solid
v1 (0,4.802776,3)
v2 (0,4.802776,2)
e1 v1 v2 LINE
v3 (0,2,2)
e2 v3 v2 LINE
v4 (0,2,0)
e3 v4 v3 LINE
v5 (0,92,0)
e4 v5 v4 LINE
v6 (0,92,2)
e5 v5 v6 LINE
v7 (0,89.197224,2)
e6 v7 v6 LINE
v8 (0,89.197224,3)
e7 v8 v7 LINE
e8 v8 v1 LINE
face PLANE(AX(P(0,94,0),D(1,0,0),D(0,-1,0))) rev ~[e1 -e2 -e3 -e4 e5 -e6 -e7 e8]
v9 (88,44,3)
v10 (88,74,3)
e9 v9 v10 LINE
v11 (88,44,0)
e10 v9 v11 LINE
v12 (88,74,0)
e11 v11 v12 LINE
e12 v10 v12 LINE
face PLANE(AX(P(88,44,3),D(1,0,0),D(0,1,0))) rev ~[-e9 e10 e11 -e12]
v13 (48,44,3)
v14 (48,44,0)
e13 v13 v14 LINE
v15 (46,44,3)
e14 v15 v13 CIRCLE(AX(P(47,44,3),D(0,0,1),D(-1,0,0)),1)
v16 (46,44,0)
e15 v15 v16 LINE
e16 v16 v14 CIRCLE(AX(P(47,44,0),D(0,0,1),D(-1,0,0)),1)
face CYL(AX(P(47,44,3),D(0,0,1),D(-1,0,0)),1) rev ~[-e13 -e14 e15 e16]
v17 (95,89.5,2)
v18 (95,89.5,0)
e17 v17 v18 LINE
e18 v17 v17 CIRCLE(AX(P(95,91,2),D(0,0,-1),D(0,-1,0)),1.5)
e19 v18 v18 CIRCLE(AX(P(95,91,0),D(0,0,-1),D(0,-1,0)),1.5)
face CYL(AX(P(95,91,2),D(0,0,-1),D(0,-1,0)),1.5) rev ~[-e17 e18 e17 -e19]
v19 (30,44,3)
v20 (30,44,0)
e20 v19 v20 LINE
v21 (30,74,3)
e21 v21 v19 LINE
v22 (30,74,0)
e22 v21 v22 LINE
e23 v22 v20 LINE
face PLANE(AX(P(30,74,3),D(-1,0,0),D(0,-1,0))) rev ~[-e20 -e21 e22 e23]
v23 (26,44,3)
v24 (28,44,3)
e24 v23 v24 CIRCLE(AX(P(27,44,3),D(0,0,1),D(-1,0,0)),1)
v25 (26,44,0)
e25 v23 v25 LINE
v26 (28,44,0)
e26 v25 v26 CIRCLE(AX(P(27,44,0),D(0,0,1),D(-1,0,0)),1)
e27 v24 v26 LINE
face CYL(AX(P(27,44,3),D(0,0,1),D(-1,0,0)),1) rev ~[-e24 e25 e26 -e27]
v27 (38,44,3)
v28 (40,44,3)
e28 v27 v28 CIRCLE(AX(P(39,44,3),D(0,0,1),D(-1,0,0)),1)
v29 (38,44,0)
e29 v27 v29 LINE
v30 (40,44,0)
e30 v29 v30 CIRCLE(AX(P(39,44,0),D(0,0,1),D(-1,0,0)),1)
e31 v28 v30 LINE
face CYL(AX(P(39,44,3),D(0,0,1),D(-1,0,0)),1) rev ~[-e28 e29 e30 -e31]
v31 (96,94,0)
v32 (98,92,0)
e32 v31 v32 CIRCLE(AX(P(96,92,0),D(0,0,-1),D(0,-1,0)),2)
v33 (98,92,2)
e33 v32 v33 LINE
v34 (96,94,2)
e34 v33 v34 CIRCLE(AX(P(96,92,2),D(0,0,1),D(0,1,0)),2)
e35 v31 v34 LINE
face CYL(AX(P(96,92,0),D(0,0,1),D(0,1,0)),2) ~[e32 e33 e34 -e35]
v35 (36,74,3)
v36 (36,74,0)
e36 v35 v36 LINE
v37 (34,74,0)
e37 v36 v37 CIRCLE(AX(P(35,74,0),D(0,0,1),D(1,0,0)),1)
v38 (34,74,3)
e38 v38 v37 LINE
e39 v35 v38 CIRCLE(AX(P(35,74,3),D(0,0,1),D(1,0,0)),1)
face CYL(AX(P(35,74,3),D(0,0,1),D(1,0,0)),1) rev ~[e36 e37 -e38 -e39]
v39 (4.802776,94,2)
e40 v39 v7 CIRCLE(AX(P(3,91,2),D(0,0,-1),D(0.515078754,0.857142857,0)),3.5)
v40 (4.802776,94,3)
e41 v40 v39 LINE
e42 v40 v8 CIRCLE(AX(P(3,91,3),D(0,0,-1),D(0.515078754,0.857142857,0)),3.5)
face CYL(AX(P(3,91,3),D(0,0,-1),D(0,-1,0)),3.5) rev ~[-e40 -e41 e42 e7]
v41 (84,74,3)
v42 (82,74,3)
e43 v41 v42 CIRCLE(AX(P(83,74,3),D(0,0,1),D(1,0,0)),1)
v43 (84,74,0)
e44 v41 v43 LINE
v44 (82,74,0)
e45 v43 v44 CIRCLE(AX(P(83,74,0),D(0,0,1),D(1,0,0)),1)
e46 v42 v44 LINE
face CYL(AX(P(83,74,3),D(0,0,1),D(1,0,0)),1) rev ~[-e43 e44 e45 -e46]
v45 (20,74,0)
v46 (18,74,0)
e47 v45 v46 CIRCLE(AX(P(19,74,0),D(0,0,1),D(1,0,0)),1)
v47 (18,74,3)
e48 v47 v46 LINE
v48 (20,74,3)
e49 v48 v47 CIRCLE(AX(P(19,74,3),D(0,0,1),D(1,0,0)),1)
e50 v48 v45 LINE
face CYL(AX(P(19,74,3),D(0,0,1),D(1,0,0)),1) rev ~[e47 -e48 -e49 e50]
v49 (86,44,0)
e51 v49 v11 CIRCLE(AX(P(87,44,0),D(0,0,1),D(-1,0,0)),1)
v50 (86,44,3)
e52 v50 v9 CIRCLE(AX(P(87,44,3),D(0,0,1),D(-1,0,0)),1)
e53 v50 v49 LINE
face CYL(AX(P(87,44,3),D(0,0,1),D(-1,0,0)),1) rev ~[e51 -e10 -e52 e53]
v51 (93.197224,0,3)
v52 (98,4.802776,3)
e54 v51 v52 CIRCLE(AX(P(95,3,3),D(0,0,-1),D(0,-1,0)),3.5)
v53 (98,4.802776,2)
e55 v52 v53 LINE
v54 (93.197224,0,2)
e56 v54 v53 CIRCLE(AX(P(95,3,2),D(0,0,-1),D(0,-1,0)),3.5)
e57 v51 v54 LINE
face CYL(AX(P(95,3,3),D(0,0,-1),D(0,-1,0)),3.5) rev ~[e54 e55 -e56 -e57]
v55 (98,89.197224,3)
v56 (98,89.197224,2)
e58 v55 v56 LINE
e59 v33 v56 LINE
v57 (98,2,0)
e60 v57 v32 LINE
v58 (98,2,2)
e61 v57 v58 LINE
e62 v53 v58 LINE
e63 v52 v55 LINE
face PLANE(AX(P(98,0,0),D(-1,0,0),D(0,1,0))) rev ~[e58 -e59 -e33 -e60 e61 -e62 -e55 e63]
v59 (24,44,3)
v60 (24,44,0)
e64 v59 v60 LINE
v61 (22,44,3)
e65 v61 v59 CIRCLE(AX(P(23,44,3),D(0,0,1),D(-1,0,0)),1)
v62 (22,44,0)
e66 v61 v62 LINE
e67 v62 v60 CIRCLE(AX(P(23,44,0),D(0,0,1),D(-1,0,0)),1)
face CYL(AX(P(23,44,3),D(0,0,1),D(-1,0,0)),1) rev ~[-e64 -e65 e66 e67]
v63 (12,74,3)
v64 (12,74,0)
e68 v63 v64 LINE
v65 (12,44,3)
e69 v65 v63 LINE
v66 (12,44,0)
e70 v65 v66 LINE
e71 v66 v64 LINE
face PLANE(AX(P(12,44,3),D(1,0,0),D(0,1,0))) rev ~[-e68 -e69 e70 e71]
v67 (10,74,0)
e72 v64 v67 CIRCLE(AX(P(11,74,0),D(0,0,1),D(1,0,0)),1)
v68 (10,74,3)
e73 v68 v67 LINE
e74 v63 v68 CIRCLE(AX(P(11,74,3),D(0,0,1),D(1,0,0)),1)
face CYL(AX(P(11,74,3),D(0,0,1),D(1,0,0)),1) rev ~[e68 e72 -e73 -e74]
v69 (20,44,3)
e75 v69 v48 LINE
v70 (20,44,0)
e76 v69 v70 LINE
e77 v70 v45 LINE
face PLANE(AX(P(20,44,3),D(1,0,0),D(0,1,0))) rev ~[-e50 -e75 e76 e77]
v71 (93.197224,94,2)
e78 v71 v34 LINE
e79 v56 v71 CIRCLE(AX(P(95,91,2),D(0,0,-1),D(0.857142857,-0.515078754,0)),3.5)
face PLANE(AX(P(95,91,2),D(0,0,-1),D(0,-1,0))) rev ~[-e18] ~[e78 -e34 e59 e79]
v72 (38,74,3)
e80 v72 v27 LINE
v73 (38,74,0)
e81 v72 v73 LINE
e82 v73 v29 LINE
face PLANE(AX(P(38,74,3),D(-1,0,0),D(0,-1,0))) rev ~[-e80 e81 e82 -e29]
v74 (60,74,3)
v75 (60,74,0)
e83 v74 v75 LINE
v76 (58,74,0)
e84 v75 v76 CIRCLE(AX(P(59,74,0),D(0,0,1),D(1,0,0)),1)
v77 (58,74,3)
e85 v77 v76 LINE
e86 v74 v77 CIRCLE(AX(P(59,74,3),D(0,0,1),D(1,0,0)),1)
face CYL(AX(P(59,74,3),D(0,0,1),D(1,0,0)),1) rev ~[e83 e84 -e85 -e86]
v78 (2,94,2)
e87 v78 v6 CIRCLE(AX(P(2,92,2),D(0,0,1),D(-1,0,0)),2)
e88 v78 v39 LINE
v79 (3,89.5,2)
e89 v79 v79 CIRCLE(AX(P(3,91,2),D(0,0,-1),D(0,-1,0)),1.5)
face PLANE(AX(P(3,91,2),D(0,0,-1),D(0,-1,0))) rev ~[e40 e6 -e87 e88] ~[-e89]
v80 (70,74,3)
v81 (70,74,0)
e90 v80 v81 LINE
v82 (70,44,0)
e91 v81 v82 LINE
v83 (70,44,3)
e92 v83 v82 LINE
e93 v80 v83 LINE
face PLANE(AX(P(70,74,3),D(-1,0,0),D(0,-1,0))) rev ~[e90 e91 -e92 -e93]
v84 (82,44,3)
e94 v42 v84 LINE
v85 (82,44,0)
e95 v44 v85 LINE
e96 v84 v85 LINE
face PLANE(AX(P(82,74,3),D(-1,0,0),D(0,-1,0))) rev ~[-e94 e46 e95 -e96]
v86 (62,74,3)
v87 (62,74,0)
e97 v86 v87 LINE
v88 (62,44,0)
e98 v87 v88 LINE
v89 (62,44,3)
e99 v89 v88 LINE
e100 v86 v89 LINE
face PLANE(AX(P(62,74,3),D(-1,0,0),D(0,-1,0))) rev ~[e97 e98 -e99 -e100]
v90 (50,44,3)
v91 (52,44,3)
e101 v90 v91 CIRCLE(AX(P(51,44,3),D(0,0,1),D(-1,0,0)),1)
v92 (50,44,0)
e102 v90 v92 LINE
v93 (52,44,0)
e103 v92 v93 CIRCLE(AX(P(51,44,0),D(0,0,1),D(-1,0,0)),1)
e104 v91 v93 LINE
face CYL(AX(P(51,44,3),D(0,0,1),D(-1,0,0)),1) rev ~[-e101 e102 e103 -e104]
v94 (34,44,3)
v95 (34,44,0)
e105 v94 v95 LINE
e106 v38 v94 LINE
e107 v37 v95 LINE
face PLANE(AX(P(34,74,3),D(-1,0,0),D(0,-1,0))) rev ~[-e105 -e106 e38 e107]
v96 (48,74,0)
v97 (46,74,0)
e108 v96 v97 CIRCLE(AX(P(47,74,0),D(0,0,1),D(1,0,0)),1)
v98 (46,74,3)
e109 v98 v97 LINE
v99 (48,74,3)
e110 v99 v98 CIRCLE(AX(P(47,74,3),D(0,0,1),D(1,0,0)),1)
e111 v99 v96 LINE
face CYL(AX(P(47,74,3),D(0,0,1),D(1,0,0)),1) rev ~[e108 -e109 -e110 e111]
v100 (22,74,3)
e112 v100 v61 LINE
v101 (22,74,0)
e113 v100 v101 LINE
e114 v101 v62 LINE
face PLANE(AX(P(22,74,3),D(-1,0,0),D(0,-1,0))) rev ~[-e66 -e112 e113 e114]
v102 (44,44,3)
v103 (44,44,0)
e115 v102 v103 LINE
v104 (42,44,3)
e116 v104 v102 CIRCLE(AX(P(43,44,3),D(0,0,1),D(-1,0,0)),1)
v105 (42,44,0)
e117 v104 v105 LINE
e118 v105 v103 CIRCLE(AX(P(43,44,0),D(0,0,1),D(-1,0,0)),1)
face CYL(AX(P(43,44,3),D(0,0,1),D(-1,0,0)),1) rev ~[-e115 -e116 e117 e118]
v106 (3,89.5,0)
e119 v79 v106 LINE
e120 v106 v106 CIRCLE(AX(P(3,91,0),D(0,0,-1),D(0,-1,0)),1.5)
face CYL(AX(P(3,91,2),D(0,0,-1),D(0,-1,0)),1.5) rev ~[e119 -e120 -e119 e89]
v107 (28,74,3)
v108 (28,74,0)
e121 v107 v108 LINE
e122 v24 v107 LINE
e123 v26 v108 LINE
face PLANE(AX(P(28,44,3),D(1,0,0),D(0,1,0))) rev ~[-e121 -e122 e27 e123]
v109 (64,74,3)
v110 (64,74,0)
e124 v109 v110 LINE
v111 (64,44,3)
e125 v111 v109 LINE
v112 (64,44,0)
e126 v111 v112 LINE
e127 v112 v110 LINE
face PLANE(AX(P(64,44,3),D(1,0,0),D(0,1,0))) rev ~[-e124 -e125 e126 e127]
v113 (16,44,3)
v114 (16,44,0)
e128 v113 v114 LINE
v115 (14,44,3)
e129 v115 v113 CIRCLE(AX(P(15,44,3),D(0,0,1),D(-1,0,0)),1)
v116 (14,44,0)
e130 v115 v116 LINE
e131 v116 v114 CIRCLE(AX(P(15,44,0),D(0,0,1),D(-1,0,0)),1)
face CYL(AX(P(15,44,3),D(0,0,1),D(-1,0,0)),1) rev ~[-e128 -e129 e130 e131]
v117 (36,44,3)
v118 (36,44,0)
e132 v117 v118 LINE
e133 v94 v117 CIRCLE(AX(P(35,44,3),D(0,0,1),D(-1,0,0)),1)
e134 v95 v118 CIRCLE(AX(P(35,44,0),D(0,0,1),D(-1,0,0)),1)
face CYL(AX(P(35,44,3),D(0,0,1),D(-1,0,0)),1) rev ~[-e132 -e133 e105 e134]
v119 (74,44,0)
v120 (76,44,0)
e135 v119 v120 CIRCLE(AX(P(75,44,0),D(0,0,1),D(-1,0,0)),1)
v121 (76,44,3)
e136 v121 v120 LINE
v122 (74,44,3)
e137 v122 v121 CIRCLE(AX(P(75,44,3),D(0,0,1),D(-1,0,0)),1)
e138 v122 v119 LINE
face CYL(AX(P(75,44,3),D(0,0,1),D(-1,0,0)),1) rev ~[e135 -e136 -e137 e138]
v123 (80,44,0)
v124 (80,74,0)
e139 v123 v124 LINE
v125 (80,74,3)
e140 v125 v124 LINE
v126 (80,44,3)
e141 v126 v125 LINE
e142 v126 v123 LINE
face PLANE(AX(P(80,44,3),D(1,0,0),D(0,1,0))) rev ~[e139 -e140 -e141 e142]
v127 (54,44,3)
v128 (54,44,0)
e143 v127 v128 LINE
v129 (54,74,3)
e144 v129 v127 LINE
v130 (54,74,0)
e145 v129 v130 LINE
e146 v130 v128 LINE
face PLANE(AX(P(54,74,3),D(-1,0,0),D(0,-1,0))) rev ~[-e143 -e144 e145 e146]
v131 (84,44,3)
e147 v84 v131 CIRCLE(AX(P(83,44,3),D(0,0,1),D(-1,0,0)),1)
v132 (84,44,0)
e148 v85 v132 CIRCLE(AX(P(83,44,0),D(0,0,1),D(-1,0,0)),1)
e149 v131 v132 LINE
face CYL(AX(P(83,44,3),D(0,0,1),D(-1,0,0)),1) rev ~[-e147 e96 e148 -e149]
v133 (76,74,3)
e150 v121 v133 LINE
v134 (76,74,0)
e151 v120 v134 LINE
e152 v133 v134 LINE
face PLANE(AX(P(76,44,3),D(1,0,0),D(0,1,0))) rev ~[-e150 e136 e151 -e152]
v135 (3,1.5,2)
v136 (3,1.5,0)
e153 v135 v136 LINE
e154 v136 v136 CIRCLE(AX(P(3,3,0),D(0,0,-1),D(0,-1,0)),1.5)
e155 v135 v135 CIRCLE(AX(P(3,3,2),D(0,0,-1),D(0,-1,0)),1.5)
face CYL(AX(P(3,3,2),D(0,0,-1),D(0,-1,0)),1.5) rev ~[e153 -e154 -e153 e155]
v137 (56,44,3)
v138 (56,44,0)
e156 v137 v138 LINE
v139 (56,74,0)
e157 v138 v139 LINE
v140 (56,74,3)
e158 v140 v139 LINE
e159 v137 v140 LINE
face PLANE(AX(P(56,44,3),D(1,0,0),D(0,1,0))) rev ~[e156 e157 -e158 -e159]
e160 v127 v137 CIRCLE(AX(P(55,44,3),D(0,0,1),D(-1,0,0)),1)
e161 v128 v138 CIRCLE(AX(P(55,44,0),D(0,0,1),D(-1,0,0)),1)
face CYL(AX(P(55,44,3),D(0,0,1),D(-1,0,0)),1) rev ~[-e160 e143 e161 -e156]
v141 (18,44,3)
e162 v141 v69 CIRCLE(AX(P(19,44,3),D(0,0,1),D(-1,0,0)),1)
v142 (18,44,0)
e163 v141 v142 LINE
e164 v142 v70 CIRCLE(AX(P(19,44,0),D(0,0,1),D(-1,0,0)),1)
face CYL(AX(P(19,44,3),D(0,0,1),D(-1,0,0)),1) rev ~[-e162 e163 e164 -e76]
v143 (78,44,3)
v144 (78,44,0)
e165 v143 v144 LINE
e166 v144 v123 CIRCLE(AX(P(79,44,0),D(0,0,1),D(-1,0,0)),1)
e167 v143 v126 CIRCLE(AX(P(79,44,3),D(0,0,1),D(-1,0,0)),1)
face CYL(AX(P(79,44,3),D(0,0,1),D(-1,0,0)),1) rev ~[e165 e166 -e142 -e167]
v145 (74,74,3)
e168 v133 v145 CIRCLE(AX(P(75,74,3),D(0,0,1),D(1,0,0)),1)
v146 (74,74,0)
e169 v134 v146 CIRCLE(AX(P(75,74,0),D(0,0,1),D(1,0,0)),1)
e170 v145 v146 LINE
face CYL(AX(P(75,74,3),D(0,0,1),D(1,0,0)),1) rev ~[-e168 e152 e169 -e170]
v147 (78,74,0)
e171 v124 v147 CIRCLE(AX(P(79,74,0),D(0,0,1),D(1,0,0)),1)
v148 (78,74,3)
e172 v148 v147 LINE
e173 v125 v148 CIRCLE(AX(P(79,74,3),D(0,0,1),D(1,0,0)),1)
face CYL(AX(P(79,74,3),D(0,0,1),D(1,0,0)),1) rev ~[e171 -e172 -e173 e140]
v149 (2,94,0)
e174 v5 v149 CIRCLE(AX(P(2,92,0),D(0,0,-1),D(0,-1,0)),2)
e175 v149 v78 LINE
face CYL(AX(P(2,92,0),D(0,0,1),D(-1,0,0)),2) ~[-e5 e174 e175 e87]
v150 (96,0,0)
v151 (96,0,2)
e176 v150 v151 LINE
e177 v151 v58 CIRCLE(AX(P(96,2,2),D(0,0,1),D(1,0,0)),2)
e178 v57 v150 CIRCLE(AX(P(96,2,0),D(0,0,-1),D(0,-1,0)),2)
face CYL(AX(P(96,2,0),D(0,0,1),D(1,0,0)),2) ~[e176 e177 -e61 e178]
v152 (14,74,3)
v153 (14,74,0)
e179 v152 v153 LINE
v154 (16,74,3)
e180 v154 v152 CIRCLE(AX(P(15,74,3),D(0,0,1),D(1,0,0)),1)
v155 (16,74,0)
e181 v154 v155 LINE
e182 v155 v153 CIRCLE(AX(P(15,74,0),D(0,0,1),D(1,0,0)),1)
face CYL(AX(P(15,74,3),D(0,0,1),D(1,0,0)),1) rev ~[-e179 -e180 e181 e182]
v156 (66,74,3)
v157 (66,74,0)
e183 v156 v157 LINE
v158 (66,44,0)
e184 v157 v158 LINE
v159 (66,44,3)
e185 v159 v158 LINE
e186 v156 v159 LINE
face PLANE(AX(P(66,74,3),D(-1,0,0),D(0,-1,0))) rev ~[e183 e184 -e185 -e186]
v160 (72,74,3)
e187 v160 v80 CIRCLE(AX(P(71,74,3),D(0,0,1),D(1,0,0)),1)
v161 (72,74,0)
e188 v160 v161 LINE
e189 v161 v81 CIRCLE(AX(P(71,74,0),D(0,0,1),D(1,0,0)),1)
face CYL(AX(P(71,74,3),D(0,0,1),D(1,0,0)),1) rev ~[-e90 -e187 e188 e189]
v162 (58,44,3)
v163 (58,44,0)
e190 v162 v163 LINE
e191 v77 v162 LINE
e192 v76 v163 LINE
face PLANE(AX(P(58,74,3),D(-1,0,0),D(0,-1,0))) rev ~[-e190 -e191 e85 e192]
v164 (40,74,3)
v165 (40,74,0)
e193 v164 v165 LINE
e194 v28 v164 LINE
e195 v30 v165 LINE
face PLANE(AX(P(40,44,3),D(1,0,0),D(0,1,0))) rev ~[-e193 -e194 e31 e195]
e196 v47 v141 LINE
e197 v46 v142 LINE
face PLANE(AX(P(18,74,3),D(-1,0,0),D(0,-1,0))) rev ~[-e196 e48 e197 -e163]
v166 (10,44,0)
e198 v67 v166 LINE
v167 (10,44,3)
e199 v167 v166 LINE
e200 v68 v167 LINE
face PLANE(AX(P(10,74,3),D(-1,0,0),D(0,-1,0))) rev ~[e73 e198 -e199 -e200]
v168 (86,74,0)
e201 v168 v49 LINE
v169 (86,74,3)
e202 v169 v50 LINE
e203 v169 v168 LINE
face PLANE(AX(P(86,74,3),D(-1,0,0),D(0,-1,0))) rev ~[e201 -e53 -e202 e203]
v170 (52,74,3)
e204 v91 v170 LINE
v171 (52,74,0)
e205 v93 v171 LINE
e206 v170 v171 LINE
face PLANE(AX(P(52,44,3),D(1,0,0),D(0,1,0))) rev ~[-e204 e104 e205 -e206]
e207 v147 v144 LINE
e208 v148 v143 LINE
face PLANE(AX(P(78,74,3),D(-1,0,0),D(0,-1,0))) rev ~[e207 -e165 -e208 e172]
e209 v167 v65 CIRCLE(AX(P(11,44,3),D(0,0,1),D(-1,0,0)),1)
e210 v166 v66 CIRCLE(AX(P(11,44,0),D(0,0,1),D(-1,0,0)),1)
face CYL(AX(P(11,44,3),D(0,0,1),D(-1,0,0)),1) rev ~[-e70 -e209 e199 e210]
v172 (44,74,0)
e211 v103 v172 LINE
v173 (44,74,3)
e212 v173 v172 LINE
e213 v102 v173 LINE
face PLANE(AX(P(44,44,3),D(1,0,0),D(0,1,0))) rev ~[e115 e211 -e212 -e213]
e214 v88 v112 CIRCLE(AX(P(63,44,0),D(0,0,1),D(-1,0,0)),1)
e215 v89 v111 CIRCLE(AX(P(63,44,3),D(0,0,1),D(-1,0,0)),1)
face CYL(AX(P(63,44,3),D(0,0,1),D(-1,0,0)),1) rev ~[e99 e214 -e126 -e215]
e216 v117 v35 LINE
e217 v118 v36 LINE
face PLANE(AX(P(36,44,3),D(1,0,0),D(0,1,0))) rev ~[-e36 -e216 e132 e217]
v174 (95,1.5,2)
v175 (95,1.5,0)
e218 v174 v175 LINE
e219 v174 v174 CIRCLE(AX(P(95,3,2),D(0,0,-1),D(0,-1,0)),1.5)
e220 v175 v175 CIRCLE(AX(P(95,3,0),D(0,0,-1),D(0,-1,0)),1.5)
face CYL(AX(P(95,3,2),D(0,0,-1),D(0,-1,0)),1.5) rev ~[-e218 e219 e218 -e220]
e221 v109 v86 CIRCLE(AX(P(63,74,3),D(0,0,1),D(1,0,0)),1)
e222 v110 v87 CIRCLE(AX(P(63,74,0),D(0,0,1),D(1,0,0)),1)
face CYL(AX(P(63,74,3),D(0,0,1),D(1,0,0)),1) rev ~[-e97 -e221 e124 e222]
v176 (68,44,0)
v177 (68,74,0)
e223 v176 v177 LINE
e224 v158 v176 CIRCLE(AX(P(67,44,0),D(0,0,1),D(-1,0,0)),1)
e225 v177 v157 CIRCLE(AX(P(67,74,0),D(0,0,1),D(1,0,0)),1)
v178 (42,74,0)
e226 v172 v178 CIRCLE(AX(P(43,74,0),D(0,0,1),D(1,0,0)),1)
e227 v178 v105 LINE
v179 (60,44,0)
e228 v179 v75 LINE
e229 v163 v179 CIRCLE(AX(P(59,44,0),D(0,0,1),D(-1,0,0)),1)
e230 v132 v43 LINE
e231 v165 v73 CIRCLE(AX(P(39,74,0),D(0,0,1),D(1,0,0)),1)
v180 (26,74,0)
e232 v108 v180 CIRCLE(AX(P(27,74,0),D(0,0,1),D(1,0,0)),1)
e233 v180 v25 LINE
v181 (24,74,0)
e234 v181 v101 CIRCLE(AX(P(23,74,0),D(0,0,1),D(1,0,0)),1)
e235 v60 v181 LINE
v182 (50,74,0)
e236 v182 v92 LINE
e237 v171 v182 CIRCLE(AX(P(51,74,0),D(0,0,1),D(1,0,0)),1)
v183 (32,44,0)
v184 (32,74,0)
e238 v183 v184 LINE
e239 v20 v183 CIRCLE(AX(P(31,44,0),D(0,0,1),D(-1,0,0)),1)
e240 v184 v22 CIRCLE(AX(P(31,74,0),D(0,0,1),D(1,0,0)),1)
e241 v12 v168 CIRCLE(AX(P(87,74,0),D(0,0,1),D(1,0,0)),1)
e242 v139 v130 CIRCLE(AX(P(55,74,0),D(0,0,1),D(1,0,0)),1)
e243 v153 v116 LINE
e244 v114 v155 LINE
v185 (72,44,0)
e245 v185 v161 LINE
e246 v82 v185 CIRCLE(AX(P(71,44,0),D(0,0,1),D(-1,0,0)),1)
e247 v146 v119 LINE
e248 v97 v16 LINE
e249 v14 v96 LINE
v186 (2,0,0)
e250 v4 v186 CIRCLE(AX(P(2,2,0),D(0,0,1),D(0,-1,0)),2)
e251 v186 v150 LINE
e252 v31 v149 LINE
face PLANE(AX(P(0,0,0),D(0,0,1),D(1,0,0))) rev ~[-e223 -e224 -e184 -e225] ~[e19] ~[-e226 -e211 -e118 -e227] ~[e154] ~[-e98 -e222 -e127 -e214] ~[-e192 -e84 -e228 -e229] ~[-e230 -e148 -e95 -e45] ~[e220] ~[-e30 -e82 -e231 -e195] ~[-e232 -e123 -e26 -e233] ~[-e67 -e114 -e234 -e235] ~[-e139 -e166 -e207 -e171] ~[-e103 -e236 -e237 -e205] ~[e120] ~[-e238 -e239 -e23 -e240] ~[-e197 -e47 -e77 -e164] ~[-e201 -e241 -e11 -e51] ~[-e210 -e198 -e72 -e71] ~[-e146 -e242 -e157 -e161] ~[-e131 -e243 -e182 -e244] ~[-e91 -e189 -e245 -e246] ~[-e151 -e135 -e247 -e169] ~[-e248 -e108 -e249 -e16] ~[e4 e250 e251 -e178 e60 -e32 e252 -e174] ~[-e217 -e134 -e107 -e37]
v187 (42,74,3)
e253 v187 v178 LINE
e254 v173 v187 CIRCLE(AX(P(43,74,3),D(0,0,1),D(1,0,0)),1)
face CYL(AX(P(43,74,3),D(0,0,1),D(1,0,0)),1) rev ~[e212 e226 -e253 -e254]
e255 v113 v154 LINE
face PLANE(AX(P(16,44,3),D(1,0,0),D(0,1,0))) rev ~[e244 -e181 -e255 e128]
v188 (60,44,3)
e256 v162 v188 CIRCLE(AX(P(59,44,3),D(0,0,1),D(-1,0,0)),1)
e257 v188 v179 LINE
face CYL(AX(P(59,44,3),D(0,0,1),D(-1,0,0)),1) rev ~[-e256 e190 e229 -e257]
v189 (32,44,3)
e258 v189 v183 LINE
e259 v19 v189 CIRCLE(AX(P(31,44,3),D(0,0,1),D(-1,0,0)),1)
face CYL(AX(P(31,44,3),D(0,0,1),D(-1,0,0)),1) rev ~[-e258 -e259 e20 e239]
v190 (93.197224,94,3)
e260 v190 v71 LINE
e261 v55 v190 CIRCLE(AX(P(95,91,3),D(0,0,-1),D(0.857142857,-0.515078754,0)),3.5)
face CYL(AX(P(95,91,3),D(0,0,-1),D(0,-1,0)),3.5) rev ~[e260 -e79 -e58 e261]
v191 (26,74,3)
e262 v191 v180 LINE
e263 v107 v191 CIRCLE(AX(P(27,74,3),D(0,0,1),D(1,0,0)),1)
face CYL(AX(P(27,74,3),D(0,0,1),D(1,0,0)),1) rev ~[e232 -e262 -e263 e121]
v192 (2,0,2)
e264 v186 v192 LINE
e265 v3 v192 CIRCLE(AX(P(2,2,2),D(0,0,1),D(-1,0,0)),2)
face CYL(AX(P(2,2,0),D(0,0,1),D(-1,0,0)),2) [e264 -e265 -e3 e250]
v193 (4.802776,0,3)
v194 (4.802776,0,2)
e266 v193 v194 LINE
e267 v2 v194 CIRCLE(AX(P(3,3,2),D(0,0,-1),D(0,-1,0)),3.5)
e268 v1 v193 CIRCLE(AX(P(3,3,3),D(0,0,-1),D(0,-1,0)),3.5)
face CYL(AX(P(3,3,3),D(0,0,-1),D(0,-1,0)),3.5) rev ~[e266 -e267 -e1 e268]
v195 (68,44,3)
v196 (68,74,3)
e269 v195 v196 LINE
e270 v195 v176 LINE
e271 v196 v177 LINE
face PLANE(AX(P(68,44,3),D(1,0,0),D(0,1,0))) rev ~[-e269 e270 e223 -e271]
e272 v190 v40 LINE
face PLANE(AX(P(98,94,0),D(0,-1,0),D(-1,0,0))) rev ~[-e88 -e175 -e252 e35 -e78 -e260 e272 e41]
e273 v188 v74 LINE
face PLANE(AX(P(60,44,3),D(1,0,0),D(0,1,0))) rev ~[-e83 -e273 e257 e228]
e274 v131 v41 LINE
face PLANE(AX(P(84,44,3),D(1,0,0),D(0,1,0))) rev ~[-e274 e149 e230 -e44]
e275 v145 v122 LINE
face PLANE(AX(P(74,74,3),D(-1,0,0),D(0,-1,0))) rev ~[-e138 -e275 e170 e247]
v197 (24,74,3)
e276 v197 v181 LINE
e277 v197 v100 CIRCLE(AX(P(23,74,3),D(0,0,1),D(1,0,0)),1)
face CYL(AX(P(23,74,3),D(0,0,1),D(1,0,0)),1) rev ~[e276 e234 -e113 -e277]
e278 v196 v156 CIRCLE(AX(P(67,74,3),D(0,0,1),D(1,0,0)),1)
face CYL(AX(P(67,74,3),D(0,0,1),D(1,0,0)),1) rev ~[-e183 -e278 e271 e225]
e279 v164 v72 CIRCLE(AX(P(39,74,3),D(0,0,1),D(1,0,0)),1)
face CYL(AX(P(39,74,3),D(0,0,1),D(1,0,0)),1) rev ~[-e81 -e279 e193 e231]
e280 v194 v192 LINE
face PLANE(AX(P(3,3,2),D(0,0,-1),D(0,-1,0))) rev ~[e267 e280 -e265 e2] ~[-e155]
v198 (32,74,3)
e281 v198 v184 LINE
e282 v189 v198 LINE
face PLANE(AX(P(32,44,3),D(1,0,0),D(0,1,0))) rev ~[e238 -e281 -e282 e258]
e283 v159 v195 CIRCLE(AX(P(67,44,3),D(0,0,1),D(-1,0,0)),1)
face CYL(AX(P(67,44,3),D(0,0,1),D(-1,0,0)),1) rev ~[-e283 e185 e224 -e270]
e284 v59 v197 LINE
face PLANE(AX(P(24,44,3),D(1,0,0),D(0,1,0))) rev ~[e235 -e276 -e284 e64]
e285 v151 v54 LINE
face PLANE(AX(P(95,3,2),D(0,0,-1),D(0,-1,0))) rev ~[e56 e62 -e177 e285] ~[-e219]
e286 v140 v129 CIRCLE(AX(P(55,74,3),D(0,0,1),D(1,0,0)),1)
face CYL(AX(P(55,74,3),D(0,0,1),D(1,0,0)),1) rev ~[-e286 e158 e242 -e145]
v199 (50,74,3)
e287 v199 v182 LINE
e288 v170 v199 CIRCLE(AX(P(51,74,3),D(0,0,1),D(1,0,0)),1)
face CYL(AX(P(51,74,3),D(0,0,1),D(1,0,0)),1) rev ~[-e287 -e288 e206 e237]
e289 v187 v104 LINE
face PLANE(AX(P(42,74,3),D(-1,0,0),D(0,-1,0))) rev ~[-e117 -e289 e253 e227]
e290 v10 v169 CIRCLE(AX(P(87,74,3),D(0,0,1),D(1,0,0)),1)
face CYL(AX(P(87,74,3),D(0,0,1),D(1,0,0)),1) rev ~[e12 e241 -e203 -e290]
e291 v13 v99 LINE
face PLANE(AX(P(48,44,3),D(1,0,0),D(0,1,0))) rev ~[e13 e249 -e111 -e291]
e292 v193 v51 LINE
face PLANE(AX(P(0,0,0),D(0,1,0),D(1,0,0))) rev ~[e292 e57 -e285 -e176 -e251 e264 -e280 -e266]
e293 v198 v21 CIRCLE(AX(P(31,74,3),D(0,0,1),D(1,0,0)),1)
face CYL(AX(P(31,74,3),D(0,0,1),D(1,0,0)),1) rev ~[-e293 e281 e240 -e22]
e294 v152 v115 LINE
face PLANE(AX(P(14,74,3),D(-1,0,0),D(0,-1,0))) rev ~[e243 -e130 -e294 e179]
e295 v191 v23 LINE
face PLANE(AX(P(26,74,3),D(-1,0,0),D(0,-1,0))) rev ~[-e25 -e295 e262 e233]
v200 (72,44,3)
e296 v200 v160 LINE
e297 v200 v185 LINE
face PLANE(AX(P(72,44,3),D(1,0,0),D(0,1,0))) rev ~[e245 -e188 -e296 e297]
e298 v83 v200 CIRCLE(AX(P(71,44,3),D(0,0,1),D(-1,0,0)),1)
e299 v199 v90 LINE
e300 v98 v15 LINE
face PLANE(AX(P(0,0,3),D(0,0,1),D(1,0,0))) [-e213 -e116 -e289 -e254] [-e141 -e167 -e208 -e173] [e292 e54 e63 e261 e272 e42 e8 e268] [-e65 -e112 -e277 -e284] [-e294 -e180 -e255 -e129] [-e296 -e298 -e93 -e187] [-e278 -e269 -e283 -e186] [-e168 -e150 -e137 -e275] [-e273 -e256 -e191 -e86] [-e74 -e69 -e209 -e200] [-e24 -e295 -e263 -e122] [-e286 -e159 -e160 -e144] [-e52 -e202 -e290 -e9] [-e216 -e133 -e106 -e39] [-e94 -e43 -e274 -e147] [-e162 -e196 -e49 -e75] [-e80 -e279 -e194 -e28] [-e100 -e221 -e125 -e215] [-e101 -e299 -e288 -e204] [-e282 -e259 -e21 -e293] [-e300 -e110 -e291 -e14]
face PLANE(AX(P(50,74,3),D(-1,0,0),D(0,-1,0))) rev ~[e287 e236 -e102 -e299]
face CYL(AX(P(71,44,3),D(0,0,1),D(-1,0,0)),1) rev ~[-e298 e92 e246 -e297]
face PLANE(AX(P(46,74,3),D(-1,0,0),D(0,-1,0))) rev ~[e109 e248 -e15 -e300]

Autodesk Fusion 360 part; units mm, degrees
sketch "Sketch1" plane through (0, 0, 0) normal (0, 0, 1) x (1, 0, 0)
  line L0 (0, 0) -> (98, 0)
  line L1 (98, 0) -> (98, 94)
  line L2 (98, 94) -> (0, 94)
  line L3 (0, 94) -> (0, 0)
  dimension "d1" = 98
  dimension "d2" = 94
extrude "Extrude1" add sketch "Sketch1" along normal blind 3
fillet "Fillet1" radius 2 4 edges at (98, 0, 1.5) (98, 94, 1.5) (0, 94, 1.5) (0, 0, 1.5)
sketch "Sketch2" plane through (0, 0, 3) normal (0, 0, 1) x (-1, 0, 0)
  arc A0 (0, -2) -> (-2, 0) centre (-2, -2) ccw
  line L0 (-2, 0) -> (-96, 0)
  arc A1 (-96, 0) -> (-98, -2) centre (-96, -2) ccw
  line L1 (-98, -2) -> (-98, -92)
  arc A2 (-98, -92) -> (-96, -94) centre (-96, -92) ccw
  line L2 (-96, -94) -> (-2, -94)
  arc A3 (-2, -94) -> (0, -92) centre (-2, -92) ccw
  line L3 (0, -92) -> (0, -2)
  line L4 (-3, -91) -> (-95, -91) construction
  line L5 (-95, -91) -> (-95, -3) construction
  line L6 (-95, -3) -> (-3, -3) construction
  line L7 (-3, -3) -> (-3, -91) construction
  dimension "d6" = 92
  dimension "d7" = 88
  dimension "d8" = 3
  dimension "d9" = 3
hole "Hole1" at (3, 91, 3) at (95, 91, 3) at (95, 3, 3) at (3, 3, 3) direction (0, 0, -1) diameter 3 end through all counterbore diameter 7 counterbore depth 1
sketch "Sketch3" plane through (0, 0, 3) normal (0, 0, 1) x (-1, 0, 0)
  arc A0 (-98, -4.8028) -> (-93.1972, 0) centre (-95, -3) ccw
  line L0 (-98, -4.8028) -> (-98, -89.1972)
  arc A1 (-93.1972, -94) -> (-98, -89.1972) centre (-95, -91) ccw
  line L1 (-93.1972, -94) -> (-4.8028, -94)
  arc A2 (0, -89.1972) -> (-4.8028, -94) centre (-3, -91) ccw
  line L2 (0, -89.1972) -> (0, -4.8028)
  arc A3 (-4.8028, 0) -> (0, -4.8028) centre (-3, -3) ccw
  line L3 (-4.8028, 0) -> (-93.1972, 0)
  line L4 (-10, -74) -> (-10, -44)
  arc A4 (-10, -44) -> (-12, -44) centre (-11, -44) ccw
  line L5 (-12, -44) -> (-12, -74)
  arc A5 (-12, -74) -> (-10, -74) centre (-11, -74) ccw
  line L6 (-16, -44) -> (-16, -74)
  arc A6 (-14, -44) -> (-16, -44) centre (-15, -44) ccw
  line L7 (-14, -74) -> (-14, -44)
  arc A7 (-16, -74) -> (-14, -74) centre (-15, -74) ccw
  line L8 (-20, -44) -> (-20, -74)
  arc A8 (-18, -44) -> (-20, -44) centre (-19, -44) ccw
  line L9 (-18, -74) -> (-18, -44)
  arc A9 (-20, -74) -> (-18, -74) centre (-19, -74) ccw
  line L10 (-24, -44) -> (-24, -74)
  arc A10 (-22, -44) -> (-24, -44) centre (-23, -44) ccw
  line L11 (-22, -74) -> (-22, -44)
  arc A11 (-24, -74) -> (-22, -74) centre (-23, -74) ccw
  line L12 (-28, -44) -> (-28, -74)
  arc A12 (-26, -44) -> (-28, -44) centre (-27, -44) ccw
  line L13 (-26, -74) -> (-26, -44)
  arc A13 (-28, -74) -> (-26, -74) centre (-27, -74) ccw
  line L14 (-32, -44) -> (-32, -74)
  arc A14 (-30, -44) -> (-32, -44) centre (-31, -44) ccw
  line L15 (-30, -74) -> (-30, -44)
  arc A15 (-32, -74) -> (-30, -74) centre (-31, -74) ccw
  line L16 (-36, -44) -> (-36, -74)
  arc A16 (-34, -44) -> (-36, -44) centre (-35, -44) ccw
  line L17 (-34, -74) -> (-34, -44)
  arc A17 (-36, -74) -> (-34, -74) centre (-35, -74) ccw
  line L18 (-40, -44) -> (-40, -74)
  arc A18 (-38, -44) -> (-40, -44) centre (-39, -44) ccw
  line L19 (-38, -74) -> (-38, -44)
  arc A19 (-40, -74) -> (-38, -74) centre (-39, -74) ccw
  line L20 (-44, -44) -> (-44, -74)
  arc A20 (-42, -44) -> (-44, -44) centre (-43, -44) ccw
  line L21 (-42, -74) -> (-42, -44)
  arc A21 (-44, -74) -> (-42, -74) centre (-43, -74) ccw
  line L22 (-48, -44) -> (-48, -74)
  arc A22 (-46, -44) -> (-48, -44) centre (-47, -44) ccw
  line L23 (-46, -74) -> (-46, -44)
  arc A23 (-48, -74) -> (-46, -74) centre (-47, -74) ccw
  line L24 (-52, -44) -> (-52, -74)
  arc A24 (-50, -44) -> (-52, -44) centre (-51, -44) ccw
  line L25 (-50, -74) -> (-50, -44)
  arc A25 (-52, -74) -> (-50, -74) centre (-51, -74) ccw
  line L26 (-56, -44) -> (-56, -74)
  arc A26 (-54, -44) -> (-56, -44) centre (-55, -44) ccw
  line L27 (-54, -74) -> (-54, -44)
  arc A27 (-56, -74) -> (-54, -74) centre (-55, -74) ccw
  line L28 (-60, -44) -> (-60, -74)
  arc A28 (-58, -44) -> (-60, -44) centre (-59, -44) ccw
  line L29 (-58, -74) -> (-58, -44)
  arc A29 (-60, -74) -> (-58, -74) centre (-59, -74) ccw
  line L30 (-64, -44) -> (-64, -74)
  arc A30 (-62, -44) -> (-64, -44) centre (-63, -44) ccw
  line L31 (-62, -74) -> (-62, -44)
  arc A31 (-64, -74) -> (-62, -74) centre (-63, -74) ccw
  line L32 (-68, -44) -> (-68, -74)
  arc A32 (-66, -44) -> (-68, -44) centre (-67, -44) ccw
  line L33 (-66, -74) -> (-66, -44)
  arc A33 (-68, -74) -> (-66, -74) centre (-67, -74) ccw
  line L34 (-72, -44) -> (-72, -74)
  arc A34 (-70, -44) -> (-72, -44) centre (-71, -44) ccw
  line L35 (-70, -74) -> (-70, -44)
  arc A35 (-72, -74) -> (-70, -74) centre (-71, -74) ccw
  line L36 (-76, -44) -> (-76, -74)
  arc A36 (-74, -44) -> (-76, -44) centre (-75, -44) ccw
  line L37 (-74, -74) -> (-74, -44)
  arc A37 (-76, -74) -> (-74, -74) centre (-75, -74) ccw
  line L38 (-80, -44) -> (-80, -74)
  arc A38 (-78, -44) -> (-80, -44) centre (-79, -44) ccw
  line L39 (-78, -74) -> (-78, -44)
  arc A39 (-80, -74) -> (-78, -74) centre (-79, -74) ccw
  line L40 (-84, -44) -> (-84, -74)
  arc A40 (-82, -44) -> (-84, -44) centre (-83, -44) ccw
  line L41 (-82, -74) -> (-82, -44)
  arc A41 (-84, -74) -> (-82, -74) centre (-83, -74) ccw
  line L42 (-88, -44) -> (-88, -74)
  arc A42 (-86, -44) -> (-88, -44) centre (-87, -44) ccw
  line L43 (-86, -74) -> (-86, -44)
  arc A43 (-88, -74) -> (-86, -74) centre (-87, -74) ccw
  dimension "d15" = 2
  dimension "d16" = 30
  dimension "d17" = 20
  dimension "d20" = -4
  dimension "d21" = 0
extrude "Extrude2" cut sketch "Sketch3" against normal through all contours L4 A4 L5 A5 | L6 A6 L7 A7 | L8 A8 L9 A9 | L10 A10 L11 A11 | L12 A12 L13 A13 | L14 A14 L15 A15 | L16 A16 L17 A17 | L18 A18 L19 A19 | L20 A20 L21 A21 | L22 A22 L23 A23 | L24 A24 L25 A25 | L26 A26 L27 A27 | L28 A28 L29 A29 | L30 A30 L31 A31 | L32 A32 L33 A33 | L34 A34 L35 A35 | L36 A36 L37 A37 | L38 A38 L39 A39 | L40 A40 L41 A41 | L42 A42 L43 A43
